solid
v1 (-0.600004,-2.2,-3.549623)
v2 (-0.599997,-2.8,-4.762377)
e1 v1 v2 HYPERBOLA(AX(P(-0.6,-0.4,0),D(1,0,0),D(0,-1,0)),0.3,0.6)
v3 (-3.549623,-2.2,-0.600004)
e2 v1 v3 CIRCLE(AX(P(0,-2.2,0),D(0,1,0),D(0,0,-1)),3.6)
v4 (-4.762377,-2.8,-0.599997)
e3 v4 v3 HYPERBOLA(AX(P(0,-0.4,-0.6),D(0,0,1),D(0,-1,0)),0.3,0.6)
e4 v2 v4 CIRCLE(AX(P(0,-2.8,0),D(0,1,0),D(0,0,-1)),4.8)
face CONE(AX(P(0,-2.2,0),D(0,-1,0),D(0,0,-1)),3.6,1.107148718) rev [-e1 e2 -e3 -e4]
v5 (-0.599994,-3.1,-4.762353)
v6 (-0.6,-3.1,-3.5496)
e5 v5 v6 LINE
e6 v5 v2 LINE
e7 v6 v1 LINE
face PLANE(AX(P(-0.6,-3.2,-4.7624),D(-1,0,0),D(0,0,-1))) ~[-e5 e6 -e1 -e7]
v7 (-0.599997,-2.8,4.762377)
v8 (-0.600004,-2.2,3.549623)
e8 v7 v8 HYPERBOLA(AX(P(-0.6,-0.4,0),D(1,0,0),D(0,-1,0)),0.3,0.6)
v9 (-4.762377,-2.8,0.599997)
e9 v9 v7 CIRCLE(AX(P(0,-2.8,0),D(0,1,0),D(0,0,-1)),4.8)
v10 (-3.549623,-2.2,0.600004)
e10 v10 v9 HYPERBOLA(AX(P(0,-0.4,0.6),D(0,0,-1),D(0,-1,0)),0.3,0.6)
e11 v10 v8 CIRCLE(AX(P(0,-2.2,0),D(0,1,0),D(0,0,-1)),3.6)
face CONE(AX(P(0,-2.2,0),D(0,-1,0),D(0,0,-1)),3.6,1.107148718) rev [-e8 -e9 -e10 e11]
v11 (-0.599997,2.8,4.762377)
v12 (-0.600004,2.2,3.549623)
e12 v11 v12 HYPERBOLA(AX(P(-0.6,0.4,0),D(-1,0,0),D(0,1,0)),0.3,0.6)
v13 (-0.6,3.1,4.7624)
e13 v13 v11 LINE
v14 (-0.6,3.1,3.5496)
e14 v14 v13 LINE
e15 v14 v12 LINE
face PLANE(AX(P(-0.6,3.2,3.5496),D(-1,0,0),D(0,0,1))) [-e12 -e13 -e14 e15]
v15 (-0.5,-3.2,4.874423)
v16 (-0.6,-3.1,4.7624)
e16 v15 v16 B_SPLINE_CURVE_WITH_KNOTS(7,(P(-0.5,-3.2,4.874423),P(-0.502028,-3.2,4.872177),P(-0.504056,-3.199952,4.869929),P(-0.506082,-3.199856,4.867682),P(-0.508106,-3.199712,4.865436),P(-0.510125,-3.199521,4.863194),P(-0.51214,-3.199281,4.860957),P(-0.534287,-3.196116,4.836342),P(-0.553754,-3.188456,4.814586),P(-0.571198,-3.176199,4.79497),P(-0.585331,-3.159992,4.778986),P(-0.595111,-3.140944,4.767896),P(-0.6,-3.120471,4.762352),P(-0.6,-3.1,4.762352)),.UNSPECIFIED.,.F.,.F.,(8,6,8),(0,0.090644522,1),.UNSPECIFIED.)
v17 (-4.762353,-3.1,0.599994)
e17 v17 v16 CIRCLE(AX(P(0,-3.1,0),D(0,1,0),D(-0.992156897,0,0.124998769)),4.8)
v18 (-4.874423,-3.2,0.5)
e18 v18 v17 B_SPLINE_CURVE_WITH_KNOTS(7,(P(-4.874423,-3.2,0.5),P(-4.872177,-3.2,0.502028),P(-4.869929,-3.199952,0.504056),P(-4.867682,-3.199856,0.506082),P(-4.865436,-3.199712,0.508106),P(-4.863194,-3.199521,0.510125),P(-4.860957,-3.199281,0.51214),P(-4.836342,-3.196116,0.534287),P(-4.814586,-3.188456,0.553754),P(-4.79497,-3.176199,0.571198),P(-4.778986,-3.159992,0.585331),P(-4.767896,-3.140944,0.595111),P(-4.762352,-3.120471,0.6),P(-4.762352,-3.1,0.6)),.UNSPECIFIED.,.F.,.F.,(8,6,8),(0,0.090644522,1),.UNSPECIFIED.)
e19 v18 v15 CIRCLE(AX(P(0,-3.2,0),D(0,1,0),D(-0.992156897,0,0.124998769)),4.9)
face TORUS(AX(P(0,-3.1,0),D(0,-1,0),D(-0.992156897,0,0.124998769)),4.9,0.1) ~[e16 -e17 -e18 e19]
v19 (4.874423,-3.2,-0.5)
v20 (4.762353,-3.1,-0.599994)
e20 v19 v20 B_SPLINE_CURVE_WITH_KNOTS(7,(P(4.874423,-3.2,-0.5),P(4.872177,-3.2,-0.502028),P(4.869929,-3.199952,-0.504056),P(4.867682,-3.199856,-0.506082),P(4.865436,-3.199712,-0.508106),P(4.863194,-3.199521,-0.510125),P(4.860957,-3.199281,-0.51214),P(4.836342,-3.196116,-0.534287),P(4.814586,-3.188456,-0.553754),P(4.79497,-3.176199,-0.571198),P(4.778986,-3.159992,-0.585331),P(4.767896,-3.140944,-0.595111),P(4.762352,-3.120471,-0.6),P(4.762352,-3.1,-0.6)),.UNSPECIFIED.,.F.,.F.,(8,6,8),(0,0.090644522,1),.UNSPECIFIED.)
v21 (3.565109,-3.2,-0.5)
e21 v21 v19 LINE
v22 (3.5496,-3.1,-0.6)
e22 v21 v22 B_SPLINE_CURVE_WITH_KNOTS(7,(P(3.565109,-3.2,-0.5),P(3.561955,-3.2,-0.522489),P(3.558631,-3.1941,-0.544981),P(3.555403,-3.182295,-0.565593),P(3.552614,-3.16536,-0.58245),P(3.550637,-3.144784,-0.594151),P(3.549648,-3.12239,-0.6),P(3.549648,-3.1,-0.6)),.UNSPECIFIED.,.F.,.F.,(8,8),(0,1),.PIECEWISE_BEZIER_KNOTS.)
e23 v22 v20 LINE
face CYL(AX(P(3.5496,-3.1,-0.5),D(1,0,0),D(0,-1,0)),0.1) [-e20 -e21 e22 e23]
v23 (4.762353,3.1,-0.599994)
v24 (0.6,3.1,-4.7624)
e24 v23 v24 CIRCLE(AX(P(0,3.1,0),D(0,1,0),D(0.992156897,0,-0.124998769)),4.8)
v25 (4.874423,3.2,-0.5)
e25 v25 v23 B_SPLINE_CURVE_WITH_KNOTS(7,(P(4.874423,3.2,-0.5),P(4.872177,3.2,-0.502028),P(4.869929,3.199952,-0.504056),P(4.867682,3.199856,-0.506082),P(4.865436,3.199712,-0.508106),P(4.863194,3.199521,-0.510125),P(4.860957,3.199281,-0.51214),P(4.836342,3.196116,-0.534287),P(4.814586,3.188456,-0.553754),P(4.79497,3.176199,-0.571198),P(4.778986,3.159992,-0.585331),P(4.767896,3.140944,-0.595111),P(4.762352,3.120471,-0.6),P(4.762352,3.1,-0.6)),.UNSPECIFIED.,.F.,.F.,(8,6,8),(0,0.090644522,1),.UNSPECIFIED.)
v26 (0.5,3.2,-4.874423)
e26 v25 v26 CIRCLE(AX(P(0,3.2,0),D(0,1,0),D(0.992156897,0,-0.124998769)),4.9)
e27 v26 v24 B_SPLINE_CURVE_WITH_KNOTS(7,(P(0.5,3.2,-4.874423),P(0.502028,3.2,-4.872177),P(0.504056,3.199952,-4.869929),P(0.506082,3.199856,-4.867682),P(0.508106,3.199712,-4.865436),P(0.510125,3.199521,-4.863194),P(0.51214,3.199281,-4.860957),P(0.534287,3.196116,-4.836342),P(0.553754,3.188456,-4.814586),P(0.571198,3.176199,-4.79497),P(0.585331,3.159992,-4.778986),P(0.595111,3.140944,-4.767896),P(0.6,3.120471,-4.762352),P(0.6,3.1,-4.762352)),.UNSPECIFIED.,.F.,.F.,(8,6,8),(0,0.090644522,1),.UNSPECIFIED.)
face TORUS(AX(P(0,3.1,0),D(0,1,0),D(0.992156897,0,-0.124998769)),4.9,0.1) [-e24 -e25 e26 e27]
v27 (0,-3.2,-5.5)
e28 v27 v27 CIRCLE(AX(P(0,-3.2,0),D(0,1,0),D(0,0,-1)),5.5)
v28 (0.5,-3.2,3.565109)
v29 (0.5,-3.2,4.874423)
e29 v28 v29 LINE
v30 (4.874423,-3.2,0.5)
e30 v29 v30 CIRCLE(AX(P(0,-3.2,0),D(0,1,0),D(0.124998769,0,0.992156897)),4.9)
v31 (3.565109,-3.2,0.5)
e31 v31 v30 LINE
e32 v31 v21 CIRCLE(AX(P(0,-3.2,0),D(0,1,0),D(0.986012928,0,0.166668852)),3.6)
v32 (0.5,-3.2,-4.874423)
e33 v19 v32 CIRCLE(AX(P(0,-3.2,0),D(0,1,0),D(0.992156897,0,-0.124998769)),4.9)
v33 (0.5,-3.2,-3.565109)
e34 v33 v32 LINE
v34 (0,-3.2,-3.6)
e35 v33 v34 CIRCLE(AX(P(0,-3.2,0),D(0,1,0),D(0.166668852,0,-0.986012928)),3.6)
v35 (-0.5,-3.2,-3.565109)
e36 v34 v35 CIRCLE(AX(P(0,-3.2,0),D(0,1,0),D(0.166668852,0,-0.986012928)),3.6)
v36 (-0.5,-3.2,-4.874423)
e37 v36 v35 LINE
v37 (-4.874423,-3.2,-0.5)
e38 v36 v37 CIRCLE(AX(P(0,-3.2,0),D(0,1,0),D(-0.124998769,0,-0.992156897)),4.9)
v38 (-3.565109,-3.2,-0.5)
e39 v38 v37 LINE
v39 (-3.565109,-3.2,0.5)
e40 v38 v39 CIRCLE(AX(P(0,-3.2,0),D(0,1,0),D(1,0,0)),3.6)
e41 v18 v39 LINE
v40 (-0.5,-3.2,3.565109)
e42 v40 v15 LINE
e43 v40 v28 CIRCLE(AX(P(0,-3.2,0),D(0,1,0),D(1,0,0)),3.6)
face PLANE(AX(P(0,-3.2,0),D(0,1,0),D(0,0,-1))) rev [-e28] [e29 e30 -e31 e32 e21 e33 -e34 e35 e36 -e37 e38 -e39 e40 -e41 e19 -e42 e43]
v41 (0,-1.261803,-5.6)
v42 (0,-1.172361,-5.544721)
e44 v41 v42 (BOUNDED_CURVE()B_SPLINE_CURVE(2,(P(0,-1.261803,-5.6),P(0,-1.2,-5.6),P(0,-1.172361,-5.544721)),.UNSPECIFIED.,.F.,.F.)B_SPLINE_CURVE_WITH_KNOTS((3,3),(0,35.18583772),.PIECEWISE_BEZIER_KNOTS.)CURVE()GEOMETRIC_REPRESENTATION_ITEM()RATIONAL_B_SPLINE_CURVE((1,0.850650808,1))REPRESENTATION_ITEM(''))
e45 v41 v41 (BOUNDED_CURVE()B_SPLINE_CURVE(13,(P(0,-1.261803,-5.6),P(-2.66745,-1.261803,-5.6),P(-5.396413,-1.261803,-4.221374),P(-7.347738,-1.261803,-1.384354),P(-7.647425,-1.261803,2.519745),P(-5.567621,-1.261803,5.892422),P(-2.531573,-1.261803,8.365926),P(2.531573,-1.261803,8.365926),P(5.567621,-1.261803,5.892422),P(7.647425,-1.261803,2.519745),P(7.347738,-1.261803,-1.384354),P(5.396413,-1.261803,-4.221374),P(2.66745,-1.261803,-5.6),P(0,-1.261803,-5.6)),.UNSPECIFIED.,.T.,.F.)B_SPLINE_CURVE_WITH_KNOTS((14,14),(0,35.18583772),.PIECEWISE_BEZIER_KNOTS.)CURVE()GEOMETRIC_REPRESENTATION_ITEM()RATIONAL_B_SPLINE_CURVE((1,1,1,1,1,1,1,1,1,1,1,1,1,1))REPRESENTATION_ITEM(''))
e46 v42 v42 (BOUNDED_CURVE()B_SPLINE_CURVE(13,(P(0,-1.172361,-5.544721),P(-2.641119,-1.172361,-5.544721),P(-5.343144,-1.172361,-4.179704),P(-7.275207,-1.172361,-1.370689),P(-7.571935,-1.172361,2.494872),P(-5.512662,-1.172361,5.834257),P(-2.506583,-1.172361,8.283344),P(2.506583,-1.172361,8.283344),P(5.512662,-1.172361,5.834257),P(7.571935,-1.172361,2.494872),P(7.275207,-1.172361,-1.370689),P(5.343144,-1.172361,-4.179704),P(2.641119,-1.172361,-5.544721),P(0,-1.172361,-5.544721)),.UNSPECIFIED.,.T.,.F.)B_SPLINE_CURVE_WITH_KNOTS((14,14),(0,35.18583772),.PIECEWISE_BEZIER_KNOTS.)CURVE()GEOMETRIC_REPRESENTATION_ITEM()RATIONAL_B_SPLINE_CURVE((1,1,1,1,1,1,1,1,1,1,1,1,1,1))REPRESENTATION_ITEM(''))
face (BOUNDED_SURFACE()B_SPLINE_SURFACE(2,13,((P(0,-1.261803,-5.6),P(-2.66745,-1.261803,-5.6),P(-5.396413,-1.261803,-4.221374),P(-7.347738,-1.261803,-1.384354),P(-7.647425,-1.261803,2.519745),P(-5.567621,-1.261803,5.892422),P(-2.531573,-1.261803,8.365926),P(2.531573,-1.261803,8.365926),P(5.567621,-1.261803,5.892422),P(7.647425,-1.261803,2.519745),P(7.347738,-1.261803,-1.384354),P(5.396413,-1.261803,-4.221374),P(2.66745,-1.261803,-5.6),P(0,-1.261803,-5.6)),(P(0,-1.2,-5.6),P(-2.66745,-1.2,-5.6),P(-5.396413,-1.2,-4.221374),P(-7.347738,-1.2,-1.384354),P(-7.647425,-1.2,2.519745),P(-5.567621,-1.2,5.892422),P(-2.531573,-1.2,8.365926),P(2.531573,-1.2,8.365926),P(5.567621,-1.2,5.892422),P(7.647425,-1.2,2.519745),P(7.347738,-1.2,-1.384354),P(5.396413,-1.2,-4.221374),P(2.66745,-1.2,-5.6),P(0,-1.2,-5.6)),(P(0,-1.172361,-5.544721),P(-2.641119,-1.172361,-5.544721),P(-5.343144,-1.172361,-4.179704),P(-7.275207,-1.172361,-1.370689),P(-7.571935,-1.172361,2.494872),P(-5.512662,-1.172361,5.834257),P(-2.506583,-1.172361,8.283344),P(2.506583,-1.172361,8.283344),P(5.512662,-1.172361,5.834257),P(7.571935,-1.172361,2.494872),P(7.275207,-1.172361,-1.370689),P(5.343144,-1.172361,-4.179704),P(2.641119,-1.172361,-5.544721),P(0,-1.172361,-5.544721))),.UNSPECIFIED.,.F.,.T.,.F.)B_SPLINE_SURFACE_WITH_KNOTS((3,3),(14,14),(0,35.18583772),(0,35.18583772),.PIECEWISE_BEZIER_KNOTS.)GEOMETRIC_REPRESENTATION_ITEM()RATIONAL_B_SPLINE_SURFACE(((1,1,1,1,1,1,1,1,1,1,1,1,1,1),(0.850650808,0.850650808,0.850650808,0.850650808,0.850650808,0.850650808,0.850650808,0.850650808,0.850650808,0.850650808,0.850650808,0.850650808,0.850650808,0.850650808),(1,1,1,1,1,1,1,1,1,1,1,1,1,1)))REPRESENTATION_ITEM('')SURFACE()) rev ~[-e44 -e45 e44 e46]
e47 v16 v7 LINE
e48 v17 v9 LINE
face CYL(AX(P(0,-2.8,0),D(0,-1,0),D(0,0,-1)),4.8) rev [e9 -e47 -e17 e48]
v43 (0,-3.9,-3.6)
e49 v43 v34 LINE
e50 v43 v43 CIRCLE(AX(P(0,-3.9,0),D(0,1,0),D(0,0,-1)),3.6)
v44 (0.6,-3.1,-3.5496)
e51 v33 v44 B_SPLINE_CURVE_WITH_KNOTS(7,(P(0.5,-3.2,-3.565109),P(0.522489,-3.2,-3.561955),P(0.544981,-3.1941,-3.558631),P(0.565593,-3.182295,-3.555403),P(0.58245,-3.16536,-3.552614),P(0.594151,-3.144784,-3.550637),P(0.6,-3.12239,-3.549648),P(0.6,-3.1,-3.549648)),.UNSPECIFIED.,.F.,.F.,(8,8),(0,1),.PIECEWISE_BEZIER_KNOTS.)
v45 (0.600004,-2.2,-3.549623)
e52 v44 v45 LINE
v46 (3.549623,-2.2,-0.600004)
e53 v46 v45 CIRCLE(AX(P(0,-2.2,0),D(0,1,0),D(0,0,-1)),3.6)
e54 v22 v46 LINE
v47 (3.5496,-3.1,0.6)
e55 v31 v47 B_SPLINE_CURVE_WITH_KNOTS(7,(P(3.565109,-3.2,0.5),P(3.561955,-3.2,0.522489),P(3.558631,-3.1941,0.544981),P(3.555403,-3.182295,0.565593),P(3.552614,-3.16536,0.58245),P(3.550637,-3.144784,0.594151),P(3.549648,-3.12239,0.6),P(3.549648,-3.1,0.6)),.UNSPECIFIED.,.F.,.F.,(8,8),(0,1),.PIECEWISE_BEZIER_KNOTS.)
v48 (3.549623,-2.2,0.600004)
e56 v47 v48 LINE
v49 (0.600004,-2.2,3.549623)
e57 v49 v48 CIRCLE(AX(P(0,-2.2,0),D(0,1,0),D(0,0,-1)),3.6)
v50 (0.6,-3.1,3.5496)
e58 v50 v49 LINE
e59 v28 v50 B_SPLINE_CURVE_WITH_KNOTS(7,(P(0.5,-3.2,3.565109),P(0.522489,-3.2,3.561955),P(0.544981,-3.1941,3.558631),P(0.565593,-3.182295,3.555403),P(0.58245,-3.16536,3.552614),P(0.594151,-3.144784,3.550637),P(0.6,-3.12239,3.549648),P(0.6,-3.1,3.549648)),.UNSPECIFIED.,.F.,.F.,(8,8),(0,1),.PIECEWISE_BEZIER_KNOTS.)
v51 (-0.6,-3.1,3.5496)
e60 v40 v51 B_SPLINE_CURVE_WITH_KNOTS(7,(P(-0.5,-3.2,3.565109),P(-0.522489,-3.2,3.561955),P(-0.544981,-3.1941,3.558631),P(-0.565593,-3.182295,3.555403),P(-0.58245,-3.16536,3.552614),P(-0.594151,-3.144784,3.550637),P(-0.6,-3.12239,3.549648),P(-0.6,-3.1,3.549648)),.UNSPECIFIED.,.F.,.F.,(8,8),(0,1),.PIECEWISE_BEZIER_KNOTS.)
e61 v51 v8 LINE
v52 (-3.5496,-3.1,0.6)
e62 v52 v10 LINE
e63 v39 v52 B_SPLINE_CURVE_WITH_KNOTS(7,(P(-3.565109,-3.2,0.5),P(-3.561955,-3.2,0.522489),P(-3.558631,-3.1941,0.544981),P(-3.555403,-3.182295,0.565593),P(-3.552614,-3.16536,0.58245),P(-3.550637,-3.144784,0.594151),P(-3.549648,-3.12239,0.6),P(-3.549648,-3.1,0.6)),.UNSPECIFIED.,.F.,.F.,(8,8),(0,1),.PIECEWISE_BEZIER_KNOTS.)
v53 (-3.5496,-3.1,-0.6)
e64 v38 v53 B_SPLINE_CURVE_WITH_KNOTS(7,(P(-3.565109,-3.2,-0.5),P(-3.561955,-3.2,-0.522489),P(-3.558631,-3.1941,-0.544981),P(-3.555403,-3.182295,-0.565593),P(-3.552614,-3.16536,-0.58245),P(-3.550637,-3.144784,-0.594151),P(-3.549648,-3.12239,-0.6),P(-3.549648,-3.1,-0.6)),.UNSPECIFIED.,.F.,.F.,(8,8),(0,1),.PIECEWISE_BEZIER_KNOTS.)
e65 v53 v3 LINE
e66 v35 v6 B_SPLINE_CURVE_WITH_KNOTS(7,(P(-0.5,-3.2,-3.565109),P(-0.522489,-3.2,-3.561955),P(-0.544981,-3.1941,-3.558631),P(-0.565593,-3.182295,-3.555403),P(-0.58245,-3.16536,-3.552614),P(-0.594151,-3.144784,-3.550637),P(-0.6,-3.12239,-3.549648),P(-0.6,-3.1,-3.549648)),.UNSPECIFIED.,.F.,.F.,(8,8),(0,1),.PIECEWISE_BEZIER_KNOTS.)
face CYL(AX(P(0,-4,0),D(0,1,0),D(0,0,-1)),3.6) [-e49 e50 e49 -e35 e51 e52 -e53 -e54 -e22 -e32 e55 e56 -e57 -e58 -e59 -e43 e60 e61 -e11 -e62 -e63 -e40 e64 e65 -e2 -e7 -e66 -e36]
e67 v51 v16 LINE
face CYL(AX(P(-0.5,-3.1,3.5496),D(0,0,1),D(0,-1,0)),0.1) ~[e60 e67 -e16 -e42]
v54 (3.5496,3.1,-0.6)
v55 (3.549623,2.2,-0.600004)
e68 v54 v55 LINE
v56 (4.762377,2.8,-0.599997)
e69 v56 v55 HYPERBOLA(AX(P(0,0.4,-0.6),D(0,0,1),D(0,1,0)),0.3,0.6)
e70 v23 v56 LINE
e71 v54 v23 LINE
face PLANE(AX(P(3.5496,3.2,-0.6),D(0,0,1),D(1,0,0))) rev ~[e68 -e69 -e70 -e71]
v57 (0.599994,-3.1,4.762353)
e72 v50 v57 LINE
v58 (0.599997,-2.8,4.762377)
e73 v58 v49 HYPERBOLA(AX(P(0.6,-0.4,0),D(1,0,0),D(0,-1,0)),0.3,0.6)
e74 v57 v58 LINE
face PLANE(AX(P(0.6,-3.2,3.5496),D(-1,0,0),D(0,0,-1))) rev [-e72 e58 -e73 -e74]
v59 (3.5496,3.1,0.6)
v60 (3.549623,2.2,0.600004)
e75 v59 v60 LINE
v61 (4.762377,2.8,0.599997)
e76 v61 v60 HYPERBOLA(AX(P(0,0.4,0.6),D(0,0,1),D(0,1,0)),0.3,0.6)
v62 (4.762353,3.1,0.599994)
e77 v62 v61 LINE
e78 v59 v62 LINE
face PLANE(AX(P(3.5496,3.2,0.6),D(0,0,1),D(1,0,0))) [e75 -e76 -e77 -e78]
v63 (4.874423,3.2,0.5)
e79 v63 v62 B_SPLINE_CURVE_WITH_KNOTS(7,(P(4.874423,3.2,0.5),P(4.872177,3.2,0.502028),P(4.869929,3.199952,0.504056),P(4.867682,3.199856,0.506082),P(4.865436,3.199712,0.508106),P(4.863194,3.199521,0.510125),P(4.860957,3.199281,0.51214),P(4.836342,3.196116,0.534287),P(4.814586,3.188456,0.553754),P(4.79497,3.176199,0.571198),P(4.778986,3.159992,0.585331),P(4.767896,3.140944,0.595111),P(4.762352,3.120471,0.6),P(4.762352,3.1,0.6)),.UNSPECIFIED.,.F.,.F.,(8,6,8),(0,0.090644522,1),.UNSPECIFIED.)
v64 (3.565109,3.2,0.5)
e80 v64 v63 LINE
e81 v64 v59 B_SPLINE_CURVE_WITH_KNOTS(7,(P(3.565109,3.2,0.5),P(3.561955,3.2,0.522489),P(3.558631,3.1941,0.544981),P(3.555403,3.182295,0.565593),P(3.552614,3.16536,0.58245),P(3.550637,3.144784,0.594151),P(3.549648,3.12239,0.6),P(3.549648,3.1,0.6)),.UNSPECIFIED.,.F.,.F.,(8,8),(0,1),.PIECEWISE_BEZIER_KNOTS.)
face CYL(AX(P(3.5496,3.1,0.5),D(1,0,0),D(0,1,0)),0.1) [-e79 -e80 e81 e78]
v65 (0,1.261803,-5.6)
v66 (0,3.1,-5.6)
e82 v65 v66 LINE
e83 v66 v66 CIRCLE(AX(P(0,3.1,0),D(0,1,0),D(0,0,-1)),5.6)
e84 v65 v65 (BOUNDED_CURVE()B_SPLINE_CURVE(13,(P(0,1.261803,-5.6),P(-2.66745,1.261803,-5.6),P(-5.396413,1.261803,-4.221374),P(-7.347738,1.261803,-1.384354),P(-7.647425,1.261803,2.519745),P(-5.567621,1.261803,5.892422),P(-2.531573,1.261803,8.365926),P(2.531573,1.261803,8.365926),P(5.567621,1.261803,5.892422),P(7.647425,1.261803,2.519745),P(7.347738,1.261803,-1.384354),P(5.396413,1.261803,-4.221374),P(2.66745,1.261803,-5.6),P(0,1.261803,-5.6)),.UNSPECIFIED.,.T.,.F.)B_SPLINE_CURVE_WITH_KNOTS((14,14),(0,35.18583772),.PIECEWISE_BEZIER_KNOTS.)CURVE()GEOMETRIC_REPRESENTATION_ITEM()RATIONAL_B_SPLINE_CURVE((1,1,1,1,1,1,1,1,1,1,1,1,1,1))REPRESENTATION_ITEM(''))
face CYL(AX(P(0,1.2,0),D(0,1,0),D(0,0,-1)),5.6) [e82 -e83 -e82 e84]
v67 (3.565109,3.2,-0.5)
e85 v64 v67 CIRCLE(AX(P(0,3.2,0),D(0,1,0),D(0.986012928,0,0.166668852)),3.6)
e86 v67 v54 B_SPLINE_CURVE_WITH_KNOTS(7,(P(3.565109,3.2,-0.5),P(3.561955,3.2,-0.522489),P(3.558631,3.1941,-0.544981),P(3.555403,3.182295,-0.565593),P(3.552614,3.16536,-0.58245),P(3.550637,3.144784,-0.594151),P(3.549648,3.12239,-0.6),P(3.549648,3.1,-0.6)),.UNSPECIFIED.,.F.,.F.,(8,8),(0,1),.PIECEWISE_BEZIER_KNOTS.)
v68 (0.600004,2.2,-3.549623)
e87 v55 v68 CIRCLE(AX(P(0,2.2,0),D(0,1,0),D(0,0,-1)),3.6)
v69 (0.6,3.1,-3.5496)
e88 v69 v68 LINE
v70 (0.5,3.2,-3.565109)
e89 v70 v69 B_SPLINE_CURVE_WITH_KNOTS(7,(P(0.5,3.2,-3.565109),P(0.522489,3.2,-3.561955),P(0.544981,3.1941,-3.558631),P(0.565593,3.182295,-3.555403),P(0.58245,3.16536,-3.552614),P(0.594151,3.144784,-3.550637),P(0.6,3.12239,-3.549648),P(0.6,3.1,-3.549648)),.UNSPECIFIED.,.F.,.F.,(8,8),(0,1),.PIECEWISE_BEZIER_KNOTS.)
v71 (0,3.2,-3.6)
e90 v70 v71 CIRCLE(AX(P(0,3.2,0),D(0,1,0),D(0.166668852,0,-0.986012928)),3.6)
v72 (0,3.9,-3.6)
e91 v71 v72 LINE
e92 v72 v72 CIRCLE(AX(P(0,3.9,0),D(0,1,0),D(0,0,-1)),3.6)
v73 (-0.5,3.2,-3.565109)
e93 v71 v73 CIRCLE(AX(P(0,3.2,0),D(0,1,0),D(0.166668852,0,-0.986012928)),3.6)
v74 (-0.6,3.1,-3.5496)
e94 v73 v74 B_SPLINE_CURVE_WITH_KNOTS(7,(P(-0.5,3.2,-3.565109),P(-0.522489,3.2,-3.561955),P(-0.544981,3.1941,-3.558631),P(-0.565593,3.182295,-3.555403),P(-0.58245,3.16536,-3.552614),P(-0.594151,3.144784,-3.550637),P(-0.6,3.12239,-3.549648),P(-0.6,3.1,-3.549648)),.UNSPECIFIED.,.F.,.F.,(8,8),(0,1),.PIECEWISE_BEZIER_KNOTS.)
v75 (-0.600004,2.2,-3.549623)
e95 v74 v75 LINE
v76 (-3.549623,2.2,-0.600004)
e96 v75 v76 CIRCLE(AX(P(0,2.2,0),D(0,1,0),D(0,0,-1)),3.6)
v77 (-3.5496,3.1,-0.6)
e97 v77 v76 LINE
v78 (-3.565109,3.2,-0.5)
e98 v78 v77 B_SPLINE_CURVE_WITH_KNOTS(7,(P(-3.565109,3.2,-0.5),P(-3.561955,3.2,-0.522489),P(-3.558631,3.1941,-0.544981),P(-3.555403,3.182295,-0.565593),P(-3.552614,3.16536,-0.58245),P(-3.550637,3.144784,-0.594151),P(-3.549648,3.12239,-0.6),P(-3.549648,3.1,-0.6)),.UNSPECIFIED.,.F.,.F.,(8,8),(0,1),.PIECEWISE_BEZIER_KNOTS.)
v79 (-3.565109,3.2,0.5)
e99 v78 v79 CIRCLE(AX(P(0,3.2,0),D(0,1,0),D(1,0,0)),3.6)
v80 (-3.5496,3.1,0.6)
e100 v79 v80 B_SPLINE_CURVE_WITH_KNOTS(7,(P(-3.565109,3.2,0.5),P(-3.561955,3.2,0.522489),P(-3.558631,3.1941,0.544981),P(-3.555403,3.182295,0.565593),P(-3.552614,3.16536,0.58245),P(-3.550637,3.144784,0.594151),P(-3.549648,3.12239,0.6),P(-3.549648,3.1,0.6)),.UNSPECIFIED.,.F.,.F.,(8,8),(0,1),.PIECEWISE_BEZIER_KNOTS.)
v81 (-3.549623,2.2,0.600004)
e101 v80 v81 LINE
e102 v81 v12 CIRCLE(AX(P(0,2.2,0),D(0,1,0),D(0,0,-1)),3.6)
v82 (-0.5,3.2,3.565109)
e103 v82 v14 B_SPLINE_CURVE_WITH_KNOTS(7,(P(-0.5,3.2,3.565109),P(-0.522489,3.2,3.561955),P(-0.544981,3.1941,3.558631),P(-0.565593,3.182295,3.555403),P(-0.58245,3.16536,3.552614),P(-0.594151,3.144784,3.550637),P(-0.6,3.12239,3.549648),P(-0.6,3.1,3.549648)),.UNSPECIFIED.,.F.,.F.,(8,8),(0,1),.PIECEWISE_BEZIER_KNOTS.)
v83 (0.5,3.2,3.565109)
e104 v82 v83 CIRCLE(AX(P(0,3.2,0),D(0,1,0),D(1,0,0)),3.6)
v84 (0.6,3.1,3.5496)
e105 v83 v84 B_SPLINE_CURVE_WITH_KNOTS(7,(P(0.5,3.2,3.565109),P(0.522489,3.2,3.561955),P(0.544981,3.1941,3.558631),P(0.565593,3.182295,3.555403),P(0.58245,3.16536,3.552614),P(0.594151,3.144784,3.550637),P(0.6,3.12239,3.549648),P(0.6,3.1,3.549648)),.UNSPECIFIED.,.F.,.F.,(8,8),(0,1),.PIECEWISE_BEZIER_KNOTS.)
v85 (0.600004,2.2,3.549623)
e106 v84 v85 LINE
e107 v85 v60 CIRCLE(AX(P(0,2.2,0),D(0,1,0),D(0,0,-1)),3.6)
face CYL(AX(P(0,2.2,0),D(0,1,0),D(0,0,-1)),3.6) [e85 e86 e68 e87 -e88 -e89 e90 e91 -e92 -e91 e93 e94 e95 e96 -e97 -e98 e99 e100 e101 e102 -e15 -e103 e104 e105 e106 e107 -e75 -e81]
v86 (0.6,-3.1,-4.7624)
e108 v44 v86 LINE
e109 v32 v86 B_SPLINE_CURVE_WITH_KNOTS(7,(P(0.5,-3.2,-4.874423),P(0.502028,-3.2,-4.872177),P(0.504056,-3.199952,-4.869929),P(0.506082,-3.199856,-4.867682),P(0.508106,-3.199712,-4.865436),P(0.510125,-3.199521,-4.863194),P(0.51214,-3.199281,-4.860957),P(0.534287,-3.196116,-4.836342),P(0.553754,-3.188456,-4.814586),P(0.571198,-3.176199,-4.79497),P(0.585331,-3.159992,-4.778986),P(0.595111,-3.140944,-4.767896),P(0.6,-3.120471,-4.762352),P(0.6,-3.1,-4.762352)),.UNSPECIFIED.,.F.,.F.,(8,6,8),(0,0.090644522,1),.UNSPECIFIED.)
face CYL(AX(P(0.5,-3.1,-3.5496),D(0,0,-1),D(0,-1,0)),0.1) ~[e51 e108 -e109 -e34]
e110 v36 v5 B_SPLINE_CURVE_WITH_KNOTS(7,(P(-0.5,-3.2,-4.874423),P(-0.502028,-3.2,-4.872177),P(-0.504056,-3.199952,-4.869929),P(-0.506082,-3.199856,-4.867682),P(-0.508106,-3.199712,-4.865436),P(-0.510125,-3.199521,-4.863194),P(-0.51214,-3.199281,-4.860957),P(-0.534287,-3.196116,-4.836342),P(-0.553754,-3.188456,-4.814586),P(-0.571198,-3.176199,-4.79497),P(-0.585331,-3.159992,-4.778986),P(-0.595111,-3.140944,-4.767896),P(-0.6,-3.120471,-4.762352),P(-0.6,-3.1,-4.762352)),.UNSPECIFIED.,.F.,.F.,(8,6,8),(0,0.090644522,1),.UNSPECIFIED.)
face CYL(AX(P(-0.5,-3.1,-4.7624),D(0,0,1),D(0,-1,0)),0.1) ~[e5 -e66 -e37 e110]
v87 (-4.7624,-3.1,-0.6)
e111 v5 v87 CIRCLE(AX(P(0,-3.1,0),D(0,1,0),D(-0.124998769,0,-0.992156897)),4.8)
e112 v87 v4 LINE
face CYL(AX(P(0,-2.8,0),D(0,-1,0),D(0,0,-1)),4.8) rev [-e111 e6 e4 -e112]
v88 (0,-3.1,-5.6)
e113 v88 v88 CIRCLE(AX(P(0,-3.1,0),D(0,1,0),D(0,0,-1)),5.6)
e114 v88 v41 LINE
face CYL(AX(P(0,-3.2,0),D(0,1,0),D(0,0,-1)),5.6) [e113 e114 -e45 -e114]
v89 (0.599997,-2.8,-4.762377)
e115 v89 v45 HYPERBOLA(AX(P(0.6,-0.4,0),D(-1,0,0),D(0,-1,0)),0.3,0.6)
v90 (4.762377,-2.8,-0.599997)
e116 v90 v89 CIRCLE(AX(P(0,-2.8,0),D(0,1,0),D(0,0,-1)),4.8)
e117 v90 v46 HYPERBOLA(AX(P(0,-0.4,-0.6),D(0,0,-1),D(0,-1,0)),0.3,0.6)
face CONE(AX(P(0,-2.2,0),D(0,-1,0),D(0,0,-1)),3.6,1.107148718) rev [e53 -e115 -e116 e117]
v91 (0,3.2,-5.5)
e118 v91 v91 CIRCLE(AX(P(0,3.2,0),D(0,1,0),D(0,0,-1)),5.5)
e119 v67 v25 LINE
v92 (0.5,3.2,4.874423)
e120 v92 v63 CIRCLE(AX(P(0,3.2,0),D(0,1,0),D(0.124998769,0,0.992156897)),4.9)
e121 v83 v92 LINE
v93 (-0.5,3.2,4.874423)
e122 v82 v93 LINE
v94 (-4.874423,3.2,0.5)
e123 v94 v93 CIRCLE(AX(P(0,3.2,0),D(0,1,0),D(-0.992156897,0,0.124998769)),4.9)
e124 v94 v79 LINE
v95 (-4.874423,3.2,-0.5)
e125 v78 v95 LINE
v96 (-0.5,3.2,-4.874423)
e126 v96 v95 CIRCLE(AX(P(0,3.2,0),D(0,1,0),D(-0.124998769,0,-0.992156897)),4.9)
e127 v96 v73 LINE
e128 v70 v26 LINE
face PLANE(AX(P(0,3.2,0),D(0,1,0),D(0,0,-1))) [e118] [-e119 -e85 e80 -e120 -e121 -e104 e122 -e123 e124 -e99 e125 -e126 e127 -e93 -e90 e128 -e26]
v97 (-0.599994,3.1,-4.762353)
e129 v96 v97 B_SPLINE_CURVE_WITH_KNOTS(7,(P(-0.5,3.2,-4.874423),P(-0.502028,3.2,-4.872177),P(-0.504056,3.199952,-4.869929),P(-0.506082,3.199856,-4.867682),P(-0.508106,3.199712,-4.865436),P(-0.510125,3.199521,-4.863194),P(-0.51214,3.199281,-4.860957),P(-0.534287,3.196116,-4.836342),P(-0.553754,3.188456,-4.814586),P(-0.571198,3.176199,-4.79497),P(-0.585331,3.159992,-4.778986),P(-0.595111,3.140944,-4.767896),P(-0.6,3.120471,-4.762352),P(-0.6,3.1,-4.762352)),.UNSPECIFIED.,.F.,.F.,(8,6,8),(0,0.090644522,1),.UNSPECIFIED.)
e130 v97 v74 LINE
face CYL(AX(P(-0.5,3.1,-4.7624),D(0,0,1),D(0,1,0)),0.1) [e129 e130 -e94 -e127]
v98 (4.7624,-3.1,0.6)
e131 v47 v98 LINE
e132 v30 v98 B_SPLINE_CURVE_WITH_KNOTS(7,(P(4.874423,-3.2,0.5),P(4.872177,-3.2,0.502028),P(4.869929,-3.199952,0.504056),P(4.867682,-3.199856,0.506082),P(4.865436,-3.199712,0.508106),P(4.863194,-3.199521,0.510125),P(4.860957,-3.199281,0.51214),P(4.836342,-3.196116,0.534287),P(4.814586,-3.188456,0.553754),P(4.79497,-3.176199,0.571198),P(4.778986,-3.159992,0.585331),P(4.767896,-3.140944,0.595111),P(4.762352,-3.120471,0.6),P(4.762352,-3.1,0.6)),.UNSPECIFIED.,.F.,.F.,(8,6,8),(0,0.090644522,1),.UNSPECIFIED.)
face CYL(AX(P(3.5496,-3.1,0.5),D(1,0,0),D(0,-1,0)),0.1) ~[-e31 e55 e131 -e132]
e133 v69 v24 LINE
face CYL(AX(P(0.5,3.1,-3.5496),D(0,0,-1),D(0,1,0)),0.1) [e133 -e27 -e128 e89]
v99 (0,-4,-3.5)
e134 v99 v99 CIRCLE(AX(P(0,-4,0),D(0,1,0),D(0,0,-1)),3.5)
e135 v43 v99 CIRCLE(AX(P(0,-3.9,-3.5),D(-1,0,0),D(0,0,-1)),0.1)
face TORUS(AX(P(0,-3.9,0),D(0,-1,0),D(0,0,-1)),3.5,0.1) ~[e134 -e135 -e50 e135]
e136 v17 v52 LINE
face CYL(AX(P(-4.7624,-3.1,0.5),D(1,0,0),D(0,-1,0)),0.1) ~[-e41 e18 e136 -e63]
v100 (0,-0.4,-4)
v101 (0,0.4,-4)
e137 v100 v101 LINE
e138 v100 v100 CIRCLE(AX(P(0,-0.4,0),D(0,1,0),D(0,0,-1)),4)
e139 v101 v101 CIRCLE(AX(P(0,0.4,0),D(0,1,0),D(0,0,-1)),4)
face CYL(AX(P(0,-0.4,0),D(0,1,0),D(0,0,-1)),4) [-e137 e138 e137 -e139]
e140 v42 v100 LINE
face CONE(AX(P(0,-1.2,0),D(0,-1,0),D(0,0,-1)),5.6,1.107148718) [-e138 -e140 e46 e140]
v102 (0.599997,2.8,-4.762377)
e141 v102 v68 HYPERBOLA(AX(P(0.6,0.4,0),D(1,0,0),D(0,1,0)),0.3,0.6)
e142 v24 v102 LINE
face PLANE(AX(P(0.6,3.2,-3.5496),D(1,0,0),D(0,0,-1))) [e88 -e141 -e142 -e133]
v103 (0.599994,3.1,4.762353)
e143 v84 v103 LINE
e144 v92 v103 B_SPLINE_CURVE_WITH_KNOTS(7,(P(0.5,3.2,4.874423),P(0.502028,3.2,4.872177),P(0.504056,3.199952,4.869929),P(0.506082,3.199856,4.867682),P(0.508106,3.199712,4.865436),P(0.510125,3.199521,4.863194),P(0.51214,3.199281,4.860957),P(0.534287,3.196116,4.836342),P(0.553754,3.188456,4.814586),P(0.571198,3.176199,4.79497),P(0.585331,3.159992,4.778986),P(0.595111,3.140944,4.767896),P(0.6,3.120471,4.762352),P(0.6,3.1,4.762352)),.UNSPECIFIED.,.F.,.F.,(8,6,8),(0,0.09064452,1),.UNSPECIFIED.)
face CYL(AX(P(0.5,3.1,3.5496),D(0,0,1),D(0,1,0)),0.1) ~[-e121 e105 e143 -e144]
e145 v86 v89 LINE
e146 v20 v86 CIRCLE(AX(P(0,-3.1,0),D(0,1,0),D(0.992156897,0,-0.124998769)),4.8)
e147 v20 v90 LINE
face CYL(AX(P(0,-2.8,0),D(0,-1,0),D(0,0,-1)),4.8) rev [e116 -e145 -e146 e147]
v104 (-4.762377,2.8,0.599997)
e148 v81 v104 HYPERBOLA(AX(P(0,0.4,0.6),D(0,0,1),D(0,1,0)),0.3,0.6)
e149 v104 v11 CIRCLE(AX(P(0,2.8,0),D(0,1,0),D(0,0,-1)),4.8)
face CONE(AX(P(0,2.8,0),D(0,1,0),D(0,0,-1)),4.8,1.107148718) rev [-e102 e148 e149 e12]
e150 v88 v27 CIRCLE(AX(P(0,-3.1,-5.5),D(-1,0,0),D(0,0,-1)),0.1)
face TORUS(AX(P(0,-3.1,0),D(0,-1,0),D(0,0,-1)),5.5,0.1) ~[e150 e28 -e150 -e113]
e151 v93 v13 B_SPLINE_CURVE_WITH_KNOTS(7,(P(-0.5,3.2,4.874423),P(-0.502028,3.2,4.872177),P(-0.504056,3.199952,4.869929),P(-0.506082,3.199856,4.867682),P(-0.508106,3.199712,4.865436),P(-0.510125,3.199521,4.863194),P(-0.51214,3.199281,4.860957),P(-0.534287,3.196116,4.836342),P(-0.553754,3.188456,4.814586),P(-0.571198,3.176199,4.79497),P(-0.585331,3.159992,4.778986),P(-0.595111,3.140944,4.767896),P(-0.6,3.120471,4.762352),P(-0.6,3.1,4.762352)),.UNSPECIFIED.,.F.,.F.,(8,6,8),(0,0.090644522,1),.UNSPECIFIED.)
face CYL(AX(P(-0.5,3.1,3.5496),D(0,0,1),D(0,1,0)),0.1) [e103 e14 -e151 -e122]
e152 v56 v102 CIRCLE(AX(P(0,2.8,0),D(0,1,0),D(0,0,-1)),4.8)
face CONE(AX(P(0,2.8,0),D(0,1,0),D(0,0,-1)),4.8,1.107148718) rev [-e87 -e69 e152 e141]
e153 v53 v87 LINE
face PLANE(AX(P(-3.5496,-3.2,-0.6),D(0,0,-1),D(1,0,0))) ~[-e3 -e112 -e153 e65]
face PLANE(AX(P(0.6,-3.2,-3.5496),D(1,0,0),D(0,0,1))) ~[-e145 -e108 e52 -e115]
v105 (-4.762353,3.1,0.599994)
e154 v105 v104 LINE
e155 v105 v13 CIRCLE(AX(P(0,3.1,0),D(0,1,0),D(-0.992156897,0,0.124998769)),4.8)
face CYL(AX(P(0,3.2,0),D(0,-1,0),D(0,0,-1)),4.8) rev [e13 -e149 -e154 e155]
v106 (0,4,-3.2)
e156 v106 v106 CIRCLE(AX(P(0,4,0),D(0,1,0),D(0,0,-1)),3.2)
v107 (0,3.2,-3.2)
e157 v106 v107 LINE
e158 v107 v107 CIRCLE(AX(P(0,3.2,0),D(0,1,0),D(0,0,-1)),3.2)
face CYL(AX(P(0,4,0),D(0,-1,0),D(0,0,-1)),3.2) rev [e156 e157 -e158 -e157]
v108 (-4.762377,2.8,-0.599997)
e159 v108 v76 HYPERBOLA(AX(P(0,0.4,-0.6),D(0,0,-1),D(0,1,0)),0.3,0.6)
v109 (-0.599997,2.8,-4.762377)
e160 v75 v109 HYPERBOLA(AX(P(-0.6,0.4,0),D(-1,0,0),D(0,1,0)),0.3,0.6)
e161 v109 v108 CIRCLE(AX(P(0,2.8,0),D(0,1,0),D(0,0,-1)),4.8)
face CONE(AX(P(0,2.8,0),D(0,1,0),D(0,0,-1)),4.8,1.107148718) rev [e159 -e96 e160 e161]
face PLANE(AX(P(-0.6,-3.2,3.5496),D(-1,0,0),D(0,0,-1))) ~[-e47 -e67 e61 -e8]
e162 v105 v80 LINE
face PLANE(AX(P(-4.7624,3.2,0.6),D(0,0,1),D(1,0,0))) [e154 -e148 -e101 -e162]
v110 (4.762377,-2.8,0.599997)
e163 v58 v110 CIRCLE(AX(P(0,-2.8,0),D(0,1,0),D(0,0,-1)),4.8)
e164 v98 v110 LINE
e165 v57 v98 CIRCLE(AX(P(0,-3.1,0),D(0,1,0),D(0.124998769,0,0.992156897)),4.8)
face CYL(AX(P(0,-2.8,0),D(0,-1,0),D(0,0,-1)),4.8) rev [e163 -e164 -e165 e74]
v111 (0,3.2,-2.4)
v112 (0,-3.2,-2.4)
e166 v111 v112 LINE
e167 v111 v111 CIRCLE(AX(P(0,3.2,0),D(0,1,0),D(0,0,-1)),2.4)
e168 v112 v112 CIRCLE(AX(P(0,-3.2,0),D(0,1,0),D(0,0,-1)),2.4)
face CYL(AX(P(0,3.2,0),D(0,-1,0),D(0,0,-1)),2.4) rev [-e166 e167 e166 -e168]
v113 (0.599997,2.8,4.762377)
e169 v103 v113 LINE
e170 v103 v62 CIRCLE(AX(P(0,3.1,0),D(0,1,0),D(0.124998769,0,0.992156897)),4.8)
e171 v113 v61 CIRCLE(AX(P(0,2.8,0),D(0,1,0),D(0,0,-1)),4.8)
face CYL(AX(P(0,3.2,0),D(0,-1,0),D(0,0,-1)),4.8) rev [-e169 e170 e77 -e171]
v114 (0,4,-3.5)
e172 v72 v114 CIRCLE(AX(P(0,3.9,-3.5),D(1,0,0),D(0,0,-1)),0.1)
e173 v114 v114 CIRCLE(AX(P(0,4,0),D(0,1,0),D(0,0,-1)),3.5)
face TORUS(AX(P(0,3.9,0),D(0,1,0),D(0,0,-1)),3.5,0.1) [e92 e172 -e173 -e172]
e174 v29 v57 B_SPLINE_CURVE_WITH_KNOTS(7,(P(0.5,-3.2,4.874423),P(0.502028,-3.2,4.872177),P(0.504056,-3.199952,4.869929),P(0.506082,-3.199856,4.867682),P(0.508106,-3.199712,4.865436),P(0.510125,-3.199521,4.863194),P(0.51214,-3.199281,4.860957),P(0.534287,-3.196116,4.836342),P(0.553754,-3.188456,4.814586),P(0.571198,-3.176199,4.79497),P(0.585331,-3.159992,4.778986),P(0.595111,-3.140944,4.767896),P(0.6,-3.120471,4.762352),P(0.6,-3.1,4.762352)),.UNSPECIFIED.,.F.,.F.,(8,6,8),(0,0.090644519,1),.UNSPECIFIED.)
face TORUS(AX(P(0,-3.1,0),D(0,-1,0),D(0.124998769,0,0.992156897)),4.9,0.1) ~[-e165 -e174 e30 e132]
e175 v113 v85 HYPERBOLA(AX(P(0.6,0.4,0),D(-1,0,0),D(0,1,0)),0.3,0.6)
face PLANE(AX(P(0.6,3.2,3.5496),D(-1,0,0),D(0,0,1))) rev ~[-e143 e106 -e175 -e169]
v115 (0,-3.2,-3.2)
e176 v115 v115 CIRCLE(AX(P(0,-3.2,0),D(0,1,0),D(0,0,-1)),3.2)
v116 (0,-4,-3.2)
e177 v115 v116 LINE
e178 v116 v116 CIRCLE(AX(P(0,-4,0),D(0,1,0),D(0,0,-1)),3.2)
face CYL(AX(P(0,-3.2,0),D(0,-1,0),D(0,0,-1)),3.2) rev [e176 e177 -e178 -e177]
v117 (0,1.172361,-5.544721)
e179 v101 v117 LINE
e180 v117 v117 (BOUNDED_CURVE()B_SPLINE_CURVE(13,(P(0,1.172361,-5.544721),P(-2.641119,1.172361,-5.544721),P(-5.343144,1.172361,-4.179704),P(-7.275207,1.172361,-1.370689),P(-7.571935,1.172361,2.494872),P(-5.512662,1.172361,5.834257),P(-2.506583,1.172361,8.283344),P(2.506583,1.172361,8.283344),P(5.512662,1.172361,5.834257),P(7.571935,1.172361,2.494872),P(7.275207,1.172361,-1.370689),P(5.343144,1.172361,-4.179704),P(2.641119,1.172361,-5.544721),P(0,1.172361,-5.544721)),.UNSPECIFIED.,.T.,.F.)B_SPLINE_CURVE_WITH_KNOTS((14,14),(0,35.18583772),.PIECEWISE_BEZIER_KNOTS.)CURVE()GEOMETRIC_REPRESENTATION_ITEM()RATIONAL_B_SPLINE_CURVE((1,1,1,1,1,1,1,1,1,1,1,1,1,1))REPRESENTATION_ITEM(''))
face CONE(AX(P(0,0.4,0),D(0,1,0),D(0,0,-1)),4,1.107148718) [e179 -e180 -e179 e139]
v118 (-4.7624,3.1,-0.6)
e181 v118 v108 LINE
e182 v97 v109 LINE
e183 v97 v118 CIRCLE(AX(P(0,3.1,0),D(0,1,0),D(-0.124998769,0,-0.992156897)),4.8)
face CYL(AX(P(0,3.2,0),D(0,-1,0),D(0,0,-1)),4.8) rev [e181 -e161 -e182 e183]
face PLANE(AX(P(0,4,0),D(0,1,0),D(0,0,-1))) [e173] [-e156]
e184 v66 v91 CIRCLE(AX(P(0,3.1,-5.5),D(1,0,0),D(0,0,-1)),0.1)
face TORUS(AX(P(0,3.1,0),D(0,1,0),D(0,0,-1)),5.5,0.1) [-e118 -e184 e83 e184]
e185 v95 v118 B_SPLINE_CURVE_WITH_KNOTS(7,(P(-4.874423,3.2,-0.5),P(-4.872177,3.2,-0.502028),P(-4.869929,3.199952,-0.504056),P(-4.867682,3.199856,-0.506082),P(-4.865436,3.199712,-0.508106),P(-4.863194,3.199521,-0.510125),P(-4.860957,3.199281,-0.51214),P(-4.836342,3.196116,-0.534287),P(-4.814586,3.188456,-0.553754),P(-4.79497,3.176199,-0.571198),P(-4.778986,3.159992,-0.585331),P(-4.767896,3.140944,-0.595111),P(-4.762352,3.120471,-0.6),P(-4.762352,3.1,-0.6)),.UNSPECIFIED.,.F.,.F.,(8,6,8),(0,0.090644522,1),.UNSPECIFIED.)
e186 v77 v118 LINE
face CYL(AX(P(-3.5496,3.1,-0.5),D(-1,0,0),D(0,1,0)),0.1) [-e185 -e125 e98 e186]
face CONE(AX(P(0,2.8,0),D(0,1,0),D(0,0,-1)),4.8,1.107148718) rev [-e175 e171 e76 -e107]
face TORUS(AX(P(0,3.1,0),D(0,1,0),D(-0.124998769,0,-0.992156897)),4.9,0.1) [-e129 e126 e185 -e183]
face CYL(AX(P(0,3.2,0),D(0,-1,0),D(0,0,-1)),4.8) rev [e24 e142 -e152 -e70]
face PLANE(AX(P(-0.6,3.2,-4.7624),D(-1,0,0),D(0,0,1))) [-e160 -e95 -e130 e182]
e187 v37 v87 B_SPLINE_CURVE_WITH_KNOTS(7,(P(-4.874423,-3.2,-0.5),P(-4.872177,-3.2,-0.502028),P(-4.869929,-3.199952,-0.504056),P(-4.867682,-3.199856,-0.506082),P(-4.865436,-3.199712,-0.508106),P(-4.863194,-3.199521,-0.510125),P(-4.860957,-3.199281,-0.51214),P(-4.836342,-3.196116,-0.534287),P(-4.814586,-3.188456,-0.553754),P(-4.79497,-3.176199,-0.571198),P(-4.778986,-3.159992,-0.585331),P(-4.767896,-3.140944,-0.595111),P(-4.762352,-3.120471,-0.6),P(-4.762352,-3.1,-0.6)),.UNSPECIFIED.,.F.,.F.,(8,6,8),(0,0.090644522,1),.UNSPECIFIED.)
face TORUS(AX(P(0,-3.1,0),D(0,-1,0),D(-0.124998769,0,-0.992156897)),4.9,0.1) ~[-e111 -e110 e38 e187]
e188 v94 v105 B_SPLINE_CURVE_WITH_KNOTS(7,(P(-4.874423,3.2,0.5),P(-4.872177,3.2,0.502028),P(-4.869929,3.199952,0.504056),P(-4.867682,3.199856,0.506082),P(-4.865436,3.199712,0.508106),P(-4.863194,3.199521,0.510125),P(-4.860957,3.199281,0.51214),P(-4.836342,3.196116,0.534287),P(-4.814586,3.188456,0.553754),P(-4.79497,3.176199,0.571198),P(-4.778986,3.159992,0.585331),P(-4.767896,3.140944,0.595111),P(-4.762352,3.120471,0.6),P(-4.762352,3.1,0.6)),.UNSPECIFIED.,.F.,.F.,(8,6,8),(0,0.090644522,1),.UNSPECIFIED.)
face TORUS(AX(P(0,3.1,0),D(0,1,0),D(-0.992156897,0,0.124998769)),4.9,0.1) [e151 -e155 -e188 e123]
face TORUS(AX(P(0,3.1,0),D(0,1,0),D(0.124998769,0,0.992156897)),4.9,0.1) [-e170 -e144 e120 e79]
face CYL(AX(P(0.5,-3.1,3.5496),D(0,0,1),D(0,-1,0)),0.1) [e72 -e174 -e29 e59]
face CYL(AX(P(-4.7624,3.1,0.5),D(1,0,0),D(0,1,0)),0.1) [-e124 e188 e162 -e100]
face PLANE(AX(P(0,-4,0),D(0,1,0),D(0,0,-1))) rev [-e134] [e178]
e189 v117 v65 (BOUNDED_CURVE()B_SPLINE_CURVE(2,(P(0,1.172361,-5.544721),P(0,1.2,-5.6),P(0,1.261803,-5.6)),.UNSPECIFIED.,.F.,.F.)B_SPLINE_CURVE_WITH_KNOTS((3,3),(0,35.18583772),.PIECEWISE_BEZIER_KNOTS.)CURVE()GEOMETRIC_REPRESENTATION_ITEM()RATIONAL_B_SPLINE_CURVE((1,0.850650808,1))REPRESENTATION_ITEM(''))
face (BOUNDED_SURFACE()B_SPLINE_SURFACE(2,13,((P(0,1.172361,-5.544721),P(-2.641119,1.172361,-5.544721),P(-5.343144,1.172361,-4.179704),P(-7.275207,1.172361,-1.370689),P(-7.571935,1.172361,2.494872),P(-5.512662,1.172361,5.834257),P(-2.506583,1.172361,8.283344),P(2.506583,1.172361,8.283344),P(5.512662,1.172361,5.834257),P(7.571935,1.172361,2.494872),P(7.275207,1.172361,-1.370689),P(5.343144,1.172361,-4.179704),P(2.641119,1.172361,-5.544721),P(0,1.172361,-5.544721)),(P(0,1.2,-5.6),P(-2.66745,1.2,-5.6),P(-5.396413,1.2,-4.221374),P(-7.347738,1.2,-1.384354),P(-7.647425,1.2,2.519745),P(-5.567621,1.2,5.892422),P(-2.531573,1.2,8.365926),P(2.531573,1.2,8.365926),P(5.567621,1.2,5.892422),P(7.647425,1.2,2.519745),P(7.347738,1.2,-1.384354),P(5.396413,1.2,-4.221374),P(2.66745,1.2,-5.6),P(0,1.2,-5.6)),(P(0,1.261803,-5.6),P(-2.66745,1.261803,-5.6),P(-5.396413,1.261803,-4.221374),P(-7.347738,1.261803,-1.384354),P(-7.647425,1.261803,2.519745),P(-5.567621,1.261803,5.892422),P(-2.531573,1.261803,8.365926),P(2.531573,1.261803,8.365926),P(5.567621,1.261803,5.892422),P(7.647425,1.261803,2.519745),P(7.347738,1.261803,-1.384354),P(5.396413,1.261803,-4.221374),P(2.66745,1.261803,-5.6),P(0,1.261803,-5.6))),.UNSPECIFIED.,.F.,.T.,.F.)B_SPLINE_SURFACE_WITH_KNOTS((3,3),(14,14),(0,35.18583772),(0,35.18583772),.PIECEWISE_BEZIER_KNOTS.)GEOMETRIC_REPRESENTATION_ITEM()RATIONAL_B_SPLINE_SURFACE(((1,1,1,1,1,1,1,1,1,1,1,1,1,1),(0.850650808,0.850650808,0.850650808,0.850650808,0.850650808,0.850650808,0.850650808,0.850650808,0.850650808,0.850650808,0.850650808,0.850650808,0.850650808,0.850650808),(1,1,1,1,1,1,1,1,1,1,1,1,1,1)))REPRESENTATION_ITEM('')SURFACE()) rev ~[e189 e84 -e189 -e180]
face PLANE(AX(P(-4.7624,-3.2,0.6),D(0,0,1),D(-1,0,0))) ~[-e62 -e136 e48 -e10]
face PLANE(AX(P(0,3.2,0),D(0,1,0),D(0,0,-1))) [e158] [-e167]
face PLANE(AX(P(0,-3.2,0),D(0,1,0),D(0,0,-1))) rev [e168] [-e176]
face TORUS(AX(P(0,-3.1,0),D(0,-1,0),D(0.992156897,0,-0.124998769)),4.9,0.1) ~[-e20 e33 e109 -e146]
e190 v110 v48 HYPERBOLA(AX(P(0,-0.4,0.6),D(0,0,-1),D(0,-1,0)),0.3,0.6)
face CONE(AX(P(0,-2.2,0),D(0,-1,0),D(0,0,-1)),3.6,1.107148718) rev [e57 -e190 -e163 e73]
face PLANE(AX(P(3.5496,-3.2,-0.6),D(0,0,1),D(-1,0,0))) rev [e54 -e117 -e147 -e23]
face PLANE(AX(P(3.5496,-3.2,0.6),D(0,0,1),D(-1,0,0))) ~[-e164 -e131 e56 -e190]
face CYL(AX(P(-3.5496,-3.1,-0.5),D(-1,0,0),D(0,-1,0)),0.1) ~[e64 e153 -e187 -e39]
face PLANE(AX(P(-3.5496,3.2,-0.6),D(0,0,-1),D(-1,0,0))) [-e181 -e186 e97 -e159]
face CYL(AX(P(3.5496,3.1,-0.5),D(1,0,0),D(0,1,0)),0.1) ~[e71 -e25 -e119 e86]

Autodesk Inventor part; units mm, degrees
ref_plane "YZ Plane" through (0, 0, 0) normal (1, 0, 0) x (0, 1, 0)
ref_plane "XZ Plane" through (0, 0, 0) normal (0, 1, 0) x (-1, 0, 0)
ref_plane "XY Plane" through (0, 0, 0) normal (0, 0, 1) x (1, 0, 0)
sketch "Sketch2" plane through (0, 0, 0) normal (1, 0, 0) x (0, 1, 0)
  line L0 (-1.2, -5.6) -> (-0.4, -4)
  line L1 (-0.4, -4) -> (0.4, -4)
  line L2 (0.4, -4) -> (1.2, -5.6)
  line L3 (1.2, -5.6) -> (3.2, -5.6)
  line L4 (3.2, -5.6) -> (3.2, -4.8)
  line L5 (3.2, -4.8) -> (2.8, -4.8)
  line L6 (2.8, -4.8) -> (2.2, -3.6)
  line L7 (2.2, -3.6) -> (4, -3.6)
  line L8 (4, -3.6) -> (4, -3.2)
  line L9 (4, -3.2) -> (3.2, -3.2)
  line L10 (3.2, -3.2) -> (3.2, -2.4)
  line L11 (3.2, -2.4) -> (-3.2, -2.4)
  line L12 (-3.2, -2.4) -> (-3.2, -3.2)
  line L13 (-3.2, -3.2) -> (-4, -3.2)
  line L14 (-4, -3.2) -> (-4, -3.6)
  line L15 (-4, -3.6) -> (-2.2, -3.6)
  line L16 (-2.2, -3.6) -> (-2.8, -4.8)
  line L17 (-2.8, -4.8) -> (-3.2, -4.8)
  line L18 (-3.2, -4.8) -> (-3.2, -5.6)
  line L19 (-3.2, -5.6) -> (-1.2, -5.6)
  line L20 (-5.6, 0) -> (5.6, 0) projected
  point P0 (0, 0)
  point P1 (0, -2.4)
  dimension "d0" = 4.8
  dimension "d1" = 6.4
  dimension "d2" = 0.8
  dimension "d3" = 8
  dimension "d4" = 7.2
  dimension "d5" = 11.2
  dimension "d6" = 9.6
  dimension "d7" = 6.4
  dimension "d8" = 0.8
  dimension "d9" = 8
  dimension "d10" = 0.4
  dimension "d11" = 2.4
revolve "Revolution1" add sketch "Sketch2" angle 360 about axis through (0, -10, 0) along (0, 1, 0)
sketch "Sketch3" plane through (0, 3.2, 0) normal (0, 1, 0) x (1, 0, 0)
  circle A0 centre (0, 0) radius 4.8 projected
  circle A1 centre (0, 0) radius 3.6 projected
  line L0 (-0.6, 4.7624) -> (-0.6, 3.5496)
  line L1 (0.6, 3.5496) -> (0.6, 4.7624)
  line L2 (-3.5496, 0.6) -> (-4.7624, 0.6)
  line L3 (-4.7624, -0.6) -> (-3.5496, -0.6)
  line L4 (-0.6, -3.5496) -> (-0.6, -4.7624)
  line L5 (0.6, -3.5496) -> (0.6, -4.7624)
  line L6 (3.5496, -0.6) -> (4.7624, -0.6)
  line L7 (3.5496, 0.6) -> (4.7624, 0.6)
  dimension "d14" = 1.2
extrude "Extrusion1" add sketch "Sketch3" against normal up to next contours A0 L6 A1 L7 | L1 A1 L0 A0 | A0 L4 A1 L5 | L2 A1 L3 A0
mirror "Mirror1" about plane through (0, 0, 0) normal (0, 1, 0) of "Extrusion1"
fillet "Fillet1" radius 0.1 30 edges at (0, 4, 3.6) (-0.6, 3.2, 4.156) (3.3941, 3.2, 3.3941) (0.6, 3.2, 4.156) (-3.3941, 3.2, 3.3941) (-4.156, 3.2, 0.6) (-4.156, 3.2, -0.6) (-3.3941, 3.2, -3.3941) (-0.6, 3.2, -4.156) (0.6, 3.2, -4.156) (3.3941, 3.2, -3.3941) (4.156, 3.2, -0.6) (4.156, 3.2, 0.6) (0, 1.2, 5.6) (0, 3.2, 5.6) (0, -1.2, 5.6) (0, -3.2, 5.6) (4.156, -3.2, 0.6) (3.3941, -3.2, 3.3941) (0.6, -3.2, 4.156) (-0.6, -3.2, 4.156) (-3.3941, -3.2, 3.3941) (-4.156, -3.2, 0.6) (-4.156, -3.2, -0.6) (-3.3941, -3.2, -3.3941) (-0.6, -3.2, -4.156) (0.6, -3.2, -4.156) (3.3941, -3.2, -3.3941) (4.156, -3.2, -0.6) (0, -4, 3.6)
equation "\"d0\" = tpd"
equation "\"d1\" = tsd"
equation "\"d2\" = tsl"
equation "\"d3\" = lu"
equation "\"d4\" = tlad"
equation "\"d9\" = lu"
equation "\"d17\" = lf"
equation "\"tpd\" = 4.8"
equation "\"tsd\" = 6.4"
equation "\"tsl\" = 0.8"
equation "\"lu\" = 8"
equation "\"tlad\" = 7.2"
equation "\"lf\" = 0.1"
properties part number "42610-LtBluishGray" material "ABS Plastic"
